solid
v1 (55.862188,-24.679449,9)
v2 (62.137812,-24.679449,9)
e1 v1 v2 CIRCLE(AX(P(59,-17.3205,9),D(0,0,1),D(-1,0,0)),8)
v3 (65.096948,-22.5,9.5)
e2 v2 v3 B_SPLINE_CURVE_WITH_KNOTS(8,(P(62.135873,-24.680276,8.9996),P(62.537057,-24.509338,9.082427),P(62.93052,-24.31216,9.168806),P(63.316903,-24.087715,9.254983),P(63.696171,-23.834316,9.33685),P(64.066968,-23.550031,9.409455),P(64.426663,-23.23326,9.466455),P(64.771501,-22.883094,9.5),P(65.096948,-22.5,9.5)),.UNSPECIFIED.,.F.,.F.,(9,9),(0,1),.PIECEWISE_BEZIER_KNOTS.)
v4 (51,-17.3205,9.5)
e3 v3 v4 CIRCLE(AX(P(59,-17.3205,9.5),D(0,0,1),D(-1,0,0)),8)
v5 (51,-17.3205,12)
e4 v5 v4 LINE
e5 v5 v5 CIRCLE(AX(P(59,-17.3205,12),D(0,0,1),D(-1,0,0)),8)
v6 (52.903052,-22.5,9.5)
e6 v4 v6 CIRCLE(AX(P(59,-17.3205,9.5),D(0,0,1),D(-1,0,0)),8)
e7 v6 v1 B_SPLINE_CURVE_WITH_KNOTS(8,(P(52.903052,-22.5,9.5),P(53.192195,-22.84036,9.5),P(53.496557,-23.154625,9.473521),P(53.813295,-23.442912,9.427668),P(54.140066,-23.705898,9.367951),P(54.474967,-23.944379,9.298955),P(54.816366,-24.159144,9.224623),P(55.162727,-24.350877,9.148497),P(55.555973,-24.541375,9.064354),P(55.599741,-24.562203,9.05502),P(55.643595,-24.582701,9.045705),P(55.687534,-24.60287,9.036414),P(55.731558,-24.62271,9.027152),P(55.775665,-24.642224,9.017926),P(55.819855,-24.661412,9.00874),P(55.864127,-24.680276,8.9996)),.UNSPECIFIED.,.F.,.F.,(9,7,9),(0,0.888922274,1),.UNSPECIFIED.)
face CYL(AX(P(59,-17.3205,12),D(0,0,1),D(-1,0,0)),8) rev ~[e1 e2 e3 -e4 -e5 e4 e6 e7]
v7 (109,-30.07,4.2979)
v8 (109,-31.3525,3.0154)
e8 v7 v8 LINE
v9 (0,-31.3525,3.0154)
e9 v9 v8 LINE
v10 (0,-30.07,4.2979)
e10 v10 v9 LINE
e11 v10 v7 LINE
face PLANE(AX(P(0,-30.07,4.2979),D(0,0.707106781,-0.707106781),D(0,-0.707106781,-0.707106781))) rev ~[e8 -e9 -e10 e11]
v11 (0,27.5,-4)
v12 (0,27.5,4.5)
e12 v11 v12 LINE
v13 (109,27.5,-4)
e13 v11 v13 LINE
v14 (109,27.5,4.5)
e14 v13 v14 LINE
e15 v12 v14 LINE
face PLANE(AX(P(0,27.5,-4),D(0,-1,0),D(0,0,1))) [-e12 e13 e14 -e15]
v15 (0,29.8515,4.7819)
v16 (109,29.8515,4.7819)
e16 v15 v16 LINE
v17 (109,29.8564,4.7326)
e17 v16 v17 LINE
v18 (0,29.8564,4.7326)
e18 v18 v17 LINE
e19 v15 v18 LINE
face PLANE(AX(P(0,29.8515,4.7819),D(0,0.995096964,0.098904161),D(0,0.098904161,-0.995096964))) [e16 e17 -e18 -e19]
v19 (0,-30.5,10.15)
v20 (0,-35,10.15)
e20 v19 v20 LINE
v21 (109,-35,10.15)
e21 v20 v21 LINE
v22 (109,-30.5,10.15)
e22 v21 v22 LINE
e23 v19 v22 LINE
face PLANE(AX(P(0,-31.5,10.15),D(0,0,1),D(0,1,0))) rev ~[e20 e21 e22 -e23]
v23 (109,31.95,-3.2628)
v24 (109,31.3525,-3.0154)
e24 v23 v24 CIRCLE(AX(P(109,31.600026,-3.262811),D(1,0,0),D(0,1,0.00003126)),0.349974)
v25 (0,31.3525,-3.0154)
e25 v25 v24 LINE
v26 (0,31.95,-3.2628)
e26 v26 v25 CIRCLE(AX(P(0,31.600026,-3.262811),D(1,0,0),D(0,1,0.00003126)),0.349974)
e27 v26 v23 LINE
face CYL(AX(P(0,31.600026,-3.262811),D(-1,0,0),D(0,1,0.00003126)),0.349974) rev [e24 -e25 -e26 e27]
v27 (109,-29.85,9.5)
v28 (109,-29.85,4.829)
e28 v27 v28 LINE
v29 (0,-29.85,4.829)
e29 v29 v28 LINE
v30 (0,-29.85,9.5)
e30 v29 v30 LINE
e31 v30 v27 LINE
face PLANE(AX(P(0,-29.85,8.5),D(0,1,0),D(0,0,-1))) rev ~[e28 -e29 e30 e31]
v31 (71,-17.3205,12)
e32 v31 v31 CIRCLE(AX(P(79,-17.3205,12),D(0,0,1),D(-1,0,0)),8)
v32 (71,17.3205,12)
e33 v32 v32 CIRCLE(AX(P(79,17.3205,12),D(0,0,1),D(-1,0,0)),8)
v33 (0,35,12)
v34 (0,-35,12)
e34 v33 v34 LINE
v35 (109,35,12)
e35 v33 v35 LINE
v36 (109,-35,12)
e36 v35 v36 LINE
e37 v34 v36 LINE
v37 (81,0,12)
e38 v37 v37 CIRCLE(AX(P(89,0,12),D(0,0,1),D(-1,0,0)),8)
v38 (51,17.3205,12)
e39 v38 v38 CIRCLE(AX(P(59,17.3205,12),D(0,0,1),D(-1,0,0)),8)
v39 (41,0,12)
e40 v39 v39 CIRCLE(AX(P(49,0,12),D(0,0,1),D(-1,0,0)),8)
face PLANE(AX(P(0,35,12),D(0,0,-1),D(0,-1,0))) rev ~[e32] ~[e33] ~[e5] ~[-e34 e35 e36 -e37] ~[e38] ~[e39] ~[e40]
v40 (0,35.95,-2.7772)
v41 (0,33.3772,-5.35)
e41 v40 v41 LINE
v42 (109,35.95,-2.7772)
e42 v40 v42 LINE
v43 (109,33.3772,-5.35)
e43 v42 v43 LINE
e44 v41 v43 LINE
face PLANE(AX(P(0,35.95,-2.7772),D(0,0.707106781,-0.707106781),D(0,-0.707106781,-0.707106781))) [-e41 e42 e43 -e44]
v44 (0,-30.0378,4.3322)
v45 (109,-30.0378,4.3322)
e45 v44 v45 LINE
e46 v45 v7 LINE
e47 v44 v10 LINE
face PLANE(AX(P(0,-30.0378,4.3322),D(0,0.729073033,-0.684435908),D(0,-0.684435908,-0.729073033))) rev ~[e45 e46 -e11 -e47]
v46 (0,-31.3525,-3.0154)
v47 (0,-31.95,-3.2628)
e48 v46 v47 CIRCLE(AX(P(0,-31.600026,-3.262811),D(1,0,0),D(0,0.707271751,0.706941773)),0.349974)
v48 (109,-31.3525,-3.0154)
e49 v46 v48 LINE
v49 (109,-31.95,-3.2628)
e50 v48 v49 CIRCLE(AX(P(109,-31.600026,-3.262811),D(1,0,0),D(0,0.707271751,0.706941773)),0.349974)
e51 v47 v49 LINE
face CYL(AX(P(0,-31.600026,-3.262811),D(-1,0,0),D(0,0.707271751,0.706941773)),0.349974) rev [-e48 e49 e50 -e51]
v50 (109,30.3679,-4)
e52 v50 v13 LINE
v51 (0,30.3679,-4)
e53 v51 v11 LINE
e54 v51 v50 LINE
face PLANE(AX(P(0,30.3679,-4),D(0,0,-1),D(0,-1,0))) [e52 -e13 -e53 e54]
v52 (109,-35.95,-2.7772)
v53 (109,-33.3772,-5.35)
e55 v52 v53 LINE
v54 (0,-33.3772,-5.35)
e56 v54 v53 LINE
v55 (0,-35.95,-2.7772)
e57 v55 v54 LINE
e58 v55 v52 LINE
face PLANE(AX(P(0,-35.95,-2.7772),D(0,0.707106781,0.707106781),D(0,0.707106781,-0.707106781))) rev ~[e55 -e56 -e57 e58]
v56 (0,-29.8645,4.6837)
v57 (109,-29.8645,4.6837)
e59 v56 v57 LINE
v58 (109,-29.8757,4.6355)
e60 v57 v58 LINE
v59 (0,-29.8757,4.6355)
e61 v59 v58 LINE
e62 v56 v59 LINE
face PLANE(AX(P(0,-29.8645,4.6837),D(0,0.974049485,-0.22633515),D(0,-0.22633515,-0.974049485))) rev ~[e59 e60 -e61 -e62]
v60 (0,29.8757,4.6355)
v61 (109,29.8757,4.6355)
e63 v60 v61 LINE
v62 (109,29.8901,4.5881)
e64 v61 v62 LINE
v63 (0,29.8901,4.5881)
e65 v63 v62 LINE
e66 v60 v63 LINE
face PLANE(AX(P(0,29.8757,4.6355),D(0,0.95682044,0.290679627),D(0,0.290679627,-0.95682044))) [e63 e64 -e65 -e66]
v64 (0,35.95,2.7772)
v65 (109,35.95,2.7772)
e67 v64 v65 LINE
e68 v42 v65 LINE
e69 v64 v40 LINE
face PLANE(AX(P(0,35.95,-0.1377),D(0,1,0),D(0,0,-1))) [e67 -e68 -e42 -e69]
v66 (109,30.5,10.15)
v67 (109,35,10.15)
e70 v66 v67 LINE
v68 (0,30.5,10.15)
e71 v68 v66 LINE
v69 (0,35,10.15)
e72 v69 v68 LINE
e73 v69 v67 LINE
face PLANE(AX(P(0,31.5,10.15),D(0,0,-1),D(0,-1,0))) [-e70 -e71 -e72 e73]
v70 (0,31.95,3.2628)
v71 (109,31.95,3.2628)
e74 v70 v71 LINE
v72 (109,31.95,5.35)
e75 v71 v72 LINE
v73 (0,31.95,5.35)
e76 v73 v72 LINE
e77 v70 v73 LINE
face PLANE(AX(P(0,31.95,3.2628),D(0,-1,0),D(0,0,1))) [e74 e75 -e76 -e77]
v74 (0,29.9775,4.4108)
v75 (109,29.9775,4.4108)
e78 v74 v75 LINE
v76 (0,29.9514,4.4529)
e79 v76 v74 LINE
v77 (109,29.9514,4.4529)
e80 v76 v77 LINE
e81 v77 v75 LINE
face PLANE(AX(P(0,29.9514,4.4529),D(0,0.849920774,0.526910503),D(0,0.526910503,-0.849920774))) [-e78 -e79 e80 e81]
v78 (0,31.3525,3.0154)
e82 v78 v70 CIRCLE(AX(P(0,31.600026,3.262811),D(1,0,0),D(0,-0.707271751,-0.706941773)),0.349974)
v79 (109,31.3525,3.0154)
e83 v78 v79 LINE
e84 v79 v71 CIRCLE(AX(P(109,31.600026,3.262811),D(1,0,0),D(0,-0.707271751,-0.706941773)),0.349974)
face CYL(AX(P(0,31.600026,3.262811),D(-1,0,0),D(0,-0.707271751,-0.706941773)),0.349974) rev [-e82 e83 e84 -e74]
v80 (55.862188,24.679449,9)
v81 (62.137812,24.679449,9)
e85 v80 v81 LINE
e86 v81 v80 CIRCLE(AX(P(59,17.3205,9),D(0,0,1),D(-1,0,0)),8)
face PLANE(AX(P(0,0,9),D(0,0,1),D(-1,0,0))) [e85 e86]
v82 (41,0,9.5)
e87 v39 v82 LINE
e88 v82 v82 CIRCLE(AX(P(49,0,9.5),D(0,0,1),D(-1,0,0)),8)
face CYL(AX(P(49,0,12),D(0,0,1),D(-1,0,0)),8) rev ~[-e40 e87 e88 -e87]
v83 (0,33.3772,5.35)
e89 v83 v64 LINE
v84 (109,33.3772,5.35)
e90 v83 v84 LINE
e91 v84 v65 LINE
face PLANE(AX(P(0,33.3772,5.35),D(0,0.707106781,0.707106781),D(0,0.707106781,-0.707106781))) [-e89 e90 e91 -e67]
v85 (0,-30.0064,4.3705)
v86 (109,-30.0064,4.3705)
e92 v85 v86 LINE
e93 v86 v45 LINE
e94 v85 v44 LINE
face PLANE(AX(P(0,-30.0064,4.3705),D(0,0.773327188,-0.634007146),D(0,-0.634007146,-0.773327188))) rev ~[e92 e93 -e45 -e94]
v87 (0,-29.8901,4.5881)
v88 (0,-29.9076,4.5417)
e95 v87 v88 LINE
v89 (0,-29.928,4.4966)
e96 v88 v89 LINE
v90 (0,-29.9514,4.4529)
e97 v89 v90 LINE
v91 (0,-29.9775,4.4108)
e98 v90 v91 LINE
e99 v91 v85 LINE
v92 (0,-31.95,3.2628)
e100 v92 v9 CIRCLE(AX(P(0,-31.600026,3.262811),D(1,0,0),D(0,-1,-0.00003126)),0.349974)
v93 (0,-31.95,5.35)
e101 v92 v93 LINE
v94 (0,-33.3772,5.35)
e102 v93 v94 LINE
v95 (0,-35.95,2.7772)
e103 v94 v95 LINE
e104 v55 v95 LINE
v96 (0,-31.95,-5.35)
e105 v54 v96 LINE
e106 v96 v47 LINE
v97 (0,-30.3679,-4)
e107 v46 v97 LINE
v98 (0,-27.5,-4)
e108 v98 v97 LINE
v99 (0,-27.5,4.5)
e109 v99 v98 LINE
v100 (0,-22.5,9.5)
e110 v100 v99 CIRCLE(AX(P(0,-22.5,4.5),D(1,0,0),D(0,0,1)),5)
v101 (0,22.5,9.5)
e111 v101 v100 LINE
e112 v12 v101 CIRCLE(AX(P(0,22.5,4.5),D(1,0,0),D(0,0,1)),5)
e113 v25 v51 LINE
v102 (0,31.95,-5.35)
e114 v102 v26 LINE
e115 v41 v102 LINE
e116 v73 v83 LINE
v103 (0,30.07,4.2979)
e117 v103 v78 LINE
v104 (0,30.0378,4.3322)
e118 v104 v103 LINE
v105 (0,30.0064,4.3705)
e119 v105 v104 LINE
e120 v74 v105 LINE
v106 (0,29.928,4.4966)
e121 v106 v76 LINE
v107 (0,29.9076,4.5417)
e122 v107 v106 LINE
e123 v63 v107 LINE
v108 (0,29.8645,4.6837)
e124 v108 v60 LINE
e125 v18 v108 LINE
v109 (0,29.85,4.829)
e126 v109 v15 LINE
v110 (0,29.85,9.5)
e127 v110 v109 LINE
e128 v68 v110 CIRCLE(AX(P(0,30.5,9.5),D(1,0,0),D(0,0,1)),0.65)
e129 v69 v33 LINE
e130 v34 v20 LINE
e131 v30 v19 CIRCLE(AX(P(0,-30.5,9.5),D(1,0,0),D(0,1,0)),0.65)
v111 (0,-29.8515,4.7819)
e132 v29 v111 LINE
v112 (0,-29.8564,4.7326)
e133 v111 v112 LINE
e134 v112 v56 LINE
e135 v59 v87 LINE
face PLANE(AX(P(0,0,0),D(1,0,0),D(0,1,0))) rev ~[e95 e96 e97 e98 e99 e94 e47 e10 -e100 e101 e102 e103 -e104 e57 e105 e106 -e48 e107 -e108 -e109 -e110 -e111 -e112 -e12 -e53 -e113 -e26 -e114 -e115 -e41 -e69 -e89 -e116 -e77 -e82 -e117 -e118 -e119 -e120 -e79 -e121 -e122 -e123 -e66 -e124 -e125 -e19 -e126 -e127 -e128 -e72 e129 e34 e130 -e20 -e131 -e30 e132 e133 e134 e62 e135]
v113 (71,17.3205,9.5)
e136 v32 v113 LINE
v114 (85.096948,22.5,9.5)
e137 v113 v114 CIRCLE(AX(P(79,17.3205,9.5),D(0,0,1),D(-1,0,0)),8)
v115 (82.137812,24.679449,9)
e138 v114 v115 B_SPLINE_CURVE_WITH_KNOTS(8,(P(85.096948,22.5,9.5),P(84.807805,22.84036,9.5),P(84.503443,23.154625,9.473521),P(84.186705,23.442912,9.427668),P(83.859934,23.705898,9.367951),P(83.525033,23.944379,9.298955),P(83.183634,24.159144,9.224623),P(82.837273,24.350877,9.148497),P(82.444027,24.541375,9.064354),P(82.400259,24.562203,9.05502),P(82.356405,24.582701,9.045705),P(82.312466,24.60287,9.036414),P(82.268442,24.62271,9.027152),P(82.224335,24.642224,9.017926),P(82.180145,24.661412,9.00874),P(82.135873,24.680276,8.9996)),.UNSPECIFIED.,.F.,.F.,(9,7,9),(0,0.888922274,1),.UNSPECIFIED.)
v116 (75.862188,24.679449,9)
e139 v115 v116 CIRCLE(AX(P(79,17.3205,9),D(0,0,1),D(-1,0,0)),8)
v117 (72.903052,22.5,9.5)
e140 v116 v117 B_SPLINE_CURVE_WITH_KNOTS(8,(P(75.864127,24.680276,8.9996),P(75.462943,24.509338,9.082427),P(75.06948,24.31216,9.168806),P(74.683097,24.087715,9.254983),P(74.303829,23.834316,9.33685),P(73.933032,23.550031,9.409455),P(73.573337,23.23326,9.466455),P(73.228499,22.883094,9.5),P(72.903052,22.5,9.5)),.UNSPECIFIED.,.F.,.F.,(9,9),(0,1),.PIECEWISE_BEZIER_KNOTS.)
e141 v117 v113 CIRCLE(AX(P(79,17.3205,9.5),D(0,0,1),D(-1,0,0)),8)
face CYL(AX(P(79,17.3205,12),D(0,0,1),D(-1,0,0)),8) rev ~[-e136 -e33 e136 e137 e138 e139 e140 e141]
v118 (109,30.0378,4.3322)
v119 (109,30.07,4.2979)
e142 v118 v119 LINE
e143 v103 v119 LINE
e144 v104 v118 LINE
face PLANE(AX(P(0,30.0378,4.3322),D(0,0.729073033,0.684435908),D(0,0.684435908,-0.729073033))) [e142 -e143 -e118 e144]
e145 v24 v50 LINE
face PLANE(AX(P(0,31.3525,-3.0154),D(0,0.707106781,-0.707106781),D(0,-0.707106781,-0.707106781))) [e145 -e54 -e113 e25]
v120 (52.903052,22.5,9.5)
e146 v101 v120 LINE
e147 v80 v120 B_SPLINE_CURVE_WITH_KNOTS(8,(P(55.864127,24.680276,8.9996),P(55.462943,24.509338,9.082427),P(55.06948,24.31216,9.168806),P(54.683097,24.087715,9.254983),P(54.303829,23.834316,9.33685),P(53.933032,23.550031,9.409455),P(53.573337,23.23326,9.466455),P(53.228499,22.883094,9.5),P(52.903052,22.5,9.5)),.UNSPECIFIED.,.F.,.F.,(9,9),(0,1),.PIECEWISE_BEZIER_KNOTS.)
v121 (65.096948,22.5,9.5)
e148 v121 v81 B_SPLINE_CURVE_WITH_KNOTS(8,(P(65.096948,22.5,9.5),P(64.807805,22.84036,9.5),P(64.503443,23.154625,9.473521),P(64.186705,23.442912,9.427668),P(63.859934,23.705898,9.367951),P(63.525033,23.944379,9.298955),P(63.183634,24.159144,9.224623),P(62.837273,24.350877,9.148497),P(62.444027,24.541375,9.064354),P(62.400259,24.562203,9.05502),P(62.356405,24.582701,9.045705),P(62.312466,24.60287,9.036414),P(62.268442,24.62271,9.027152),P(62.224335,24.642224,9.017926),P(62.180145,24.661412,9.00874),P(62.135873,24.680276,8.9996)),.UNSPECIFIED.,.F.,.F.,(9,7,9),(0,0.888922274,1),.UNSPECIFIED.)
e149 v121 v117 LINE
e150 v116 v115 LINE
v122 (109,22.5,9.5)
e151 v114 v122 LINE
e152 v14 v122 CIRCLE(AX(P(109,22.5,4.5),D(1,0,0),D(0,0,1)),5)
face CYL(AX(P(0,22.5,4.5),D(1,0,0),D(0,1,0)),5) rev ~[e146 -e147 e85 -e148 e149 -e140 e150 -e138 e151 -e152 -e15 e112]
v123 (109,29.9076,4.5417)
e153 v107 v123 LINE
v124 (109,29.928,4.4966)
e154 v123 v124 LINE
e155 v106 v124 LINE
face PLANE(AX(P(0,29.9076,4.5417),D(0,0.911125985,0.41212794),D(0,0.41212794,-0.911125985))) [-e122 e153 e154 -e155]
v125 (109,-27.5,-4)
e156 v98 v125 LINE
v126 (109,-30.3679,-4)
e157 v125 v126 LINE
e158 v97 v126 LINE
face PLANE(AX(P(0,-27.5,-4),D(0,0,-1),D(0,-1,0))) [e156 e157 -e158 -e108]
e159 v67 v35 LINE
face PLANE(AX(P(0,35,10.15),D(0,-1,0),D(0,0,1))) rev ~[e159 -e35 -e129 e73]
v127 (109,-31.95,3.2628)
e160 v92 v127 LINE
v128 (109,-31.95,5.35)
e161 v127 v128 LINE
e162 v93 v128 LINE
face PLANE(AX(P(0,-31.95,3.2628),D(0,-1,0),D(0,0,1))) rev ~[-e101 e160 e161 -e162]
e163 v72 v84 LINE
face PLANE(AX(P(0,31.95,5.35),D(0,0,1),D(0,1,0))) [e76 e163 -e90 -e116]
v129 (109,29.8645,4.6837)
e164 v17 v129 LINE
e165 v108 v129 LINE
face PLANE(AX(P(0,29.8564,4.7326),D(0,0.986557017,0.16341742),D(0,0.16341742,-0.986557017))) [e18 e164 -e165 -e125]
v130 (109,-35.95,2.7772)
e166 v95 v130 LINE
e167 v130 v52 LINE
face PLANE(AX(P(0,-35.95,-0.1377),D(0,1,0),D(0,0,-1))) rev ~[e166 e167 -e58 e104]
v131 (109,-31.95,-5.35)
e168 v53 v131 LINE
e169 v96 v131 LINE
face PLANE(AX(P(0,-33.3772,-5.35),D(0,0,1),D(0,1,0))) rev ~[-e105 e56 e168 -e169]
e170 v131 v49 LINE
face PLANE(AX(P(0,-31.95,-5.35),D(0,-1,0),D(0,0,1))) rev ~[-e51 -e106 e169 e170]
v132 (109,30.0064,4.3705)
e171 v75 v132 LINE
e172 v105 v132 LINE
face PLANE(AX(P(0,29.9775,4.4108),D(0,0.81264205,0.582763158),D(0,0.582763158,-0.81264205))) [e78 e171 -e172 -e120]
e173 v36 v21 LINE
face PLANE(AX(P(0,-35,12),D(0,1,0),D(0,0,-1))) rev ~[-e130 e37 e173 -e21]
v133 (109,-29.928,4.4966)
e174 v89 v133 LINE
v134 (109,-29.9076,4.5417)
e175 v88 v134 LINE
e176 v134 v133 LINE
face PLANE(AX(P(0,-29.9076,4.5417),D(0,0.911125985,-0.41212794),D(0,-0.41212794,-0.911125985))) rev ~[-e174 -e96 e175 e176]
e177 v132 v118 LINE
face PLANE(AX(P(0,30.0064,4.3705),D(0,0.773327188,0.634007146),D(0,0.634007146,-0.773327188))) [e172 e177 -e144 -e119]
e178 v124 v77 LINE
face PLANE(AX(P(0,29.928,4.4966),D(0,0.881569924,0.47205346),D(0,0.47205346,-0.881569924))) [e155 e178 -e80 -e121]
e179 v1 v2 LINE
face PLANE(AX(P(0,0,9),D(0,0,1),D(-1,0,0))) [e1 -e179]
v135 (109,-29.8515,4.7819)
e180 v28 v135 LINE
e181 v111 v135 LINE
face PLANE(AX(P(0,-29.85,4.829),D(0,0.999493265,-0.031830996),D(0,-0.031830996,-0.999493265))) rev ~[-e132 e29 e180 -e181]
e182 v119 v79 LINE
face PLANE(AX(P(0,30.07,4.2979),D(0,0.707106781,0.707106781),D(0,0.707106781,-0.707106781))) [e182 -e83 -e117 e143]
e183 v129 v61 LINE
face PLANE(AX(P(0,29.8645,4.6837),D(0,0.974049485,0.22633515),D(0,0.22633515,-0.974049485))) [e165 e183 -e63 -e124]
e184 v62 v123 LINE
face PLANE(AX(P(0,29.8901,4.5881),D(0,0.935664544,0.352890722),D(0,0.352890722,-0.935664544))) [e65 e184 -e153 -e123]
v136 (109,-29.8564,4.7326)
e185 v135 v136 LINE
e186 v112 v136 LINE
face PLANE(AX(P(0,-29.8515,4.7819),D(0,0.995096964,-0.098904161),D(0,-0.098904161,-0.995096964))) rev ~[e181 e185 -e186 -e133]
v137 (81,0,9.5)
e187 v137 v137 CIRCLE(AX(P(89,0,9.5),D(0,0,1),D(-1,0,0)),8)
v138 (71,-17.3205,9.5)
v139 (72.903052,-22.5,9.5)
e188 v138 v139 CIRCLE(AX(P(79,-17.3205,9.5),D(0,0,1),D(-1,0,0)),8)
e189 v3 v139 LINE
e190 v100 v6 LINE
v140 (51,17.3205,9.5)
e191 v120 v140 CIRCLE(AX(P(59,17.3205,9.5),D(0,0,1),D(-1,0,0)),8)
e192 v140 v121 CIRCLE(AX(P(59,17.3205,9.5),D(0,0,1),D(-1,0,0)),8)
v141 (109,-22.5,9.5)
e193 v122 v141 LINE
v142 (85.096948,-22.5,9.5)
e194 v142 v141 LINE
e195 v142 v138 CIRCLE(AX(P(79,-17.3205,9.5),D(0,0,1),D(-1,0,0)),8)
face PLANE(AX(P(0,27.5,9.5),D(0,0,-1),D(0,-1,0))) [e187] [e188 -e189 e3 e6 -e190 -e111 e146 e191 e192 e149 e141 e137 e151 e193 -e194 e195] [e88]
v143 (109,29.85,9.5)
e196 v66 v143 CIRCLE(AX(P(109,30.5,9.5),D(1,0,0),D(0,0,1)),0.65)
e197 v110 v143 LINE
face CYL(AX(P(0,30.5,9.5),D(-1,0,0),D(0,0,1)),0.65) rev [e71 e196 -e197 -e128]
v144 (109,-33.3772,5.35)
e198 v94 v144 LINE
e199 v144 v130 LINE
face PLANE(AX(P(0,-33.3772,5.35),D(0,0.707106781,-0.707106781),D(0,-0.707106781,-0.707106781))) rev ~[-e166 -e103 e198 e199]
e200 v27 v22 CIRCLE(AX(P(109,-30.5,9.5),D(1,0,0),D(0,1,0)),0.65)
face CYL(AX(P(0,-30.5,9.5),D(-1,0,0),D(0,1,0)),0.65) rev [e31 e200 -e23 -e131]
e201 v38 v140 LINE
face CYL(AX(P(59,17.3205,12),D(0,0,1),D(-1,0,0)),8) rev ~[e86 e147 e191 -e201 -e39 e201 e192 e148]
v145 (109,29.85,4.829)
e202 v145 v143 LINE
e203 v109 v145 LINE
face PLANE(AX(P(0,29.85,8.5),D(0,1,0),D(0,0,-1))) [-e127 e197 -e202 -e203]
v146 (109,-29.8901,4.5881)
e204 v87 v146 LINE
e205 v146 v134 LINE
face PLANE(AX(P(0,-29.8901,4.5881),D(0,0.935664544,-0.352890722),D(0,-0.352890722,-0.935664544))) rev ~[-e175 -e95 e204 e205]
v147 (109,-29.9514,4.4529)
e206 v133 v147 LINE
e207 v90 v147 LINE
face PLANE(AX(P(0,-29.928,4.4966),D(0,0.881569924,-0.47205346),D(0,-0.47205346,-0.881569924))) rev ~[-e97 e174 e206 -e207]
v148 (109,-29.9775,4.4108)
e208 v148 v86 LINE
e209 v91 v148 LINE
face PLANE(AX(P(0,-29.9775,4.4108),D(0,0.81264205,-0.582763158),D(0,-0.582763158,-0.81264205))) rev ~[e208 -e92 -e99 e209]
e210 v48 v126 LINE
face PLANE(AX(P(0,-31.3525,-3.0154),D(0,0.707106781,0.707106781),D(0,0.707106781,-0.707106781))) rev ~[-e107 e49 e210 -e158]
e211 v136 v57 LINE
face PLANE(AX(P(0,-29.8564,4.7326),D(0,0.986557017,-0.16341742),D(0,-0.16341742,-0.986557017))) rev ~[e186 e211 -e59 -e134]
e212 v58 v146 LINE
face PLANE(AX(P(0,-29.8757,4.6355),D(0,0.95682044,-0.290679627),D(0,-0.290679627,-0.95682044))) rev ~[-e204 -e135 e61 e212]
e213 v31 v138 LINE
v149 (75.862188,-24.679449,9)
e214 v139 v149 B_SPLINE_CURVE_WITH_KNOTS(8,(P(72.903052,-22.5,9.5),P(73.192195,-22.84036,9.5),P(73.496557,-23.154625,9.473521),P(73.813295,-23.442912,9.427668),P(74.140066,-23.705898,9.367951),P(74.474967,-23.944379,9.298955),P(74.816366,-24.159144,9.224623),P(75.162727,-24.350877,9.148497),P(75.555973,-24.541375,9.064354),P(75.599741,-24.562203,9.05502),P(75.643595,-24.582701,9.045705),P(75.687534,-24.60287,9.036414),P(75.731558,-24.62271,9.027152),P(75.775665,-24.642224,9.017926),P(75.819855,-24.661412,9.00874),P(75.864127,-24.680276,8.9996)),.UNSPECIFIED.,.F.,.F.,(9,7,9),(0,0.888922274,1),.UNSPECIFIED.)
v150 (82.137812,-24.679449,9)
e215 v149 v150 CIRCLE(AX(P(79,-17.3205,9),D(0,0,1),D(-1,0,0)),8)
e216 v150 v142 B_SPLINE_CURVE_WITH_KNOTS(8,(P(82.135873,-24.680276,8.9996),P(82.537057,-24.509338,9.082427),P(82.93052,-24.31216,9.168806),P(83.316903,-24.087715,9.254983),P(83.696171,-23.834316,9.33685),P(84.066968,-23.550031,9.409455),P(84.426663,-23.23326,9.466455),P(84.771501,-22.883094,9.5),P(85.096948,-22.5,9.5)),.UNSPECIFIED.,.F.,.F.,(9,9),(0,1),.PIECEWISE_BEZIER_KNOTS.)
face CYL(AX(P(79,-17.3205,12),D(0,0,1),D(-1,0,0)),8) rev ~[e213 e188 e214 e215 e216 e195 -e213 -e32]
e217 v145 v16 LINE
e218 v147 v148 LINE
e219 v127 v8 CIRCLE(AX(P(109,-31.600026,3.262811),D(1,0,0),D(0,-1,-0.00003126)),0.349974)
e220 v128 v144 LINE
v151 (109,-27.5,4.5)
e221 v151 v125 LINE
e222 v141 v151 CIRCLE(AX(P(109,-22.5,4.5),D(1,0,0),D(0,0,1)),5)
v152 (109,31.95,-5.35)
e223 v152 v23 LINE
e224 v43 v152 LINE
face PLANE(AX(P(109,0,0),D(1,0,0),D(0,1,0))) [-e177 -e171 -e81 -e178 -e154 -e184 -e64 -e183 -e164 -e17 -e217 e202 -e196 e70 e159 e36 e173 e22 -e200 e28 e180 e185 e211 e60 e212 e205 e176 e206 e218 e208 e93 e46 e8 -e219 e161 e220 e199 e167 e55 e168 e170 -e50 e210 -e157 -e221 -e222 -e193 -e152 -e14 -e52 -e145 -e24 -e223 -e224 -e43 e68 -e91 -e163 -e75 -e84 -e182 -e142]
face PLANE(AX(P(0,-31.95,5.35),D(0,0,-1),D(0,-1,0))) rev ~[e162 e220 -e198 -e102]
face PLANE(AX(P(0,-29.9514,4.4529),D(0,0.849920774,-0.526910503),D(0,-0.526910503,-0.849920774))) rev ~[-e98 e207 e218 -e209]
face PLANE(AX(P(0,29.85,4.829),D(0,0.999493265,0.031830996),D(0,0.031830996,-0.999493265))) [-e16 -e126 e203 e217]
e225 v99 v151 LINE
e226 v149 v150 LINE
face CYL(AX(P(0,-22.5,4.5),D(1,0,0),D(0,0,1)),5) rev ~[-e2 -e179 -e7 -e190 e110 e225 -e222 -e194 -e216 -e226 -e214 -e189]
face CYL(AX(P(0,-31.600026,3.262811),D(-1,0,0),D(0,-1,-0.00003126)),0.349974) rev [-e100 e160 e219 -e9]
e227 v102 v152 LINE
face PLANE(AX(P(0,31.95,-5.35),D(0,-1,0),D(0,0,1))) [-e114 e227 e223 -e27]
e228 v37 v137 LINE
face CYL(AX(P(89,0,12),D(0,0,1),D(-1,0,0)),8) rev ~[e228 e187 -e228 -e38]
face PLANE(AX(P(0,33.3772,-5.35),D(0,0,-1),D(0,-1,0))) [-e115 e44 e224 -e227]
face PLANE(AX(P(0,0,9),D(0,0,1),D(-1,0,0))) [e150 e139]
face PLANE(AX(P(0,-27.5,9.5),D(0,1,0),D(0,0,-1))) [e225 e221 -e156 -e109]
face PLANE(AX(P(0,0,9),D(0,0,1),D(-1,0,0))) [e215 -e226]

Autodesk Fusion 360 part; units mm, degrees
sketch "Sketch1" plane through (0, 0, 0) normal (1, 0, 0) x (0, 1, 0)
  line L0 (36.1, 2.8393) -> (36.1, 0.1999) construction
  line L1 (29.9076, 4.5417) -> (29.928, 4.4966)
  line L2 (-31.8, -5.5) -> (-31.8, -3.2628) construction
  line L3 (-36.1, 2.8393) -> (-36.1, 0.1999) construction
  line L4 (30.0626, 4.563) -> (30.0813, 4.5279) construction
  line L5 (31.4586, -3.1214) -> (30.1778, -4.4022) construction
  arc A0 (-31.3525, -3.0154) -> (-31.95, -3.2628) centre (-31.6, -3.2628) ccw
  line L6 (30.0462, 4.5991) -> (30.0626, 4.563) construction
  line L7 (30.1023, 4.4942) -> (30.1254, 4.4619) construction
  arc A1 (31.8, -3.2628) -> (31.4586, -3.1214) centre (31.6, -3.2628) ccw construction
  line L8 (30.0322, 4.6363) -> (30.0462, 4.5991) construction
  line L9 (31.8, -5.5) -> (31.8, -3.2628) construction
  line L10 (-31.95, -5.35) -> (-31.95, -3.2628)
  line L11 (-31.8, -5.5) -> (-31.8, -3.2628) construction
  line L12 (35.15, 10) -> (31.5, 10) construction
  line L13 (29.9514, 4.4529) -> (29.9775, 4.4108)
  arc A2 (-31.4586, -3.1214) -> (-31.8, -3.2628) centre (-31.6, -3.2628) ccw construction
  line L14 (31.95, -5.35) -> (31.95, -3.2628)
  line L15 (-33.4393, -5.5) -> (-31.8, -5.5) construction
  line L16 (33.4393, -5.5) -> (31.8, -5.5) construction
  line L17 (31.3525, -3.0154) -> (30.3679, -4)
  line L18 (29.8757, 4.6355) -> (29.8901, 4.5881)
  line L19 (29.8901, 4.5881) -> (29.9076, 4.5417)
  line L20 (-33.4393, -5.5) -> (-31.8, -5.5) construction
  arc A3 (-31.4586, -3.1214) -> (-31.8, -3.2628) centre (-31.6, -3.2628) ccw construction
  line L21 (35.15, 10) -> (31.5, 10) construction
  line L22 (-33.3772, -5.35) -> (-31.95, -5.35)
  line L23 (33.3772, 5.35) -> (35.95, 2.7772)
  line L24 (36.1, 2.8393) -> (36.1, 0.1999) construction
  line L25 (-31.3525, -3.0154) -> (-30.3679, -4)
  arc A4 (31.95, -3.2628) -> (31.3525, -3.0154) centre (31.6, -3.2628) ccw
  line L26 (33.4393, -5.5) -> (31.8, -5.5) construction
  line L27 (35.95, 2.7772) -> (35.95, 0.1377)
  arc A5 (31.8, -3.2628) -> (31.4586, -3.1214) centre (31.6, -3.2628) ccw construction
  line L28 (31.4586, -3.1214) -> (30.1778, -4.4022) construction
  line L29 (33.3772, -5.35) -> (31.95, -5.35)
  line L30 (31.8, -5.5) -> (31.8, -3.2628) construction
  line L31 (-29.9076, 4.5417) -> (-29.928, 4.4966)
  line L32 (-30.0626, 4.563) -> (-30.0813, 4.5279) construction
  line L33 (-36.1, 0.1999) -> (-36.2999, 0) construction
  line L34 (-30.0064, 4.3705) -> (-30.0378, 4.3322)
  line L35 (36.1, -0.1999) -> (36.1, -2.8393) construction
  line L36 (-30.1023, 4.4942) -> (-30.1254, 4.4619) construction
  line L37 (-30.0813, 4.5279) -> (-30.1023, 4.4942) construction
  line L38 (35.95, -0.1377) -> (35.95, -2.7772)
  line L39 (-29.8901, 4.5881) -> (-29.9076, 4.5417)
  line L40 (30.0117, 4.713) -> (30.0207, 4.6743) construction
  line L41 (-36.1, -0.1999) -> (-36.1, -2.8393) construction
  circle A6 centre (-40, 0) radius 2.1 construction
  line L42 (-30.0462, 4.5991) -> (-30.0626, 4.563) construction
  line L43 (30.0052, 4.7522) -> (30.0117, 4.713) construction
  line L44 (30.1023, 4.4942) -> (30.1254, 4.4619) construction
  line L45 (-30.0462, 4.5991) -> (-30.0626, 4.563) construction
  line L46 (30.0462, 4.5991) -> (30.0626, 4.563) construction
  line L47 (30.1254, 4.4619) -> (30.1506, 4.4312) construction
  line L48 (-36.1, 0.1999) -> (-36.2999, 0) construction
  line L49 (30.0813, 4.5279) -> (30.1023, 4.4942) construction
  line L50 (30.0626, 4.563) -> (30.0813, 4.5279) construction
  line L51 (-30.0813, 4.5279) -> (-30.1023, 4.4942) construction
  line L52 (29.9775, 4.4108) -> (30.0064, 4.3705)
  line L53 (-30.0626, 4.563) -> (-30.0813, 4.5279) construction
  line L54 (-36.2999, 0) -> (-36.1, -0.1999) construction
  line L55 (30.0378, 4.3322) -> (30.07, 4.2979)
  line L56 (30.0322, 4.6363) -> (30.0462, 4.5991) construction
  line L57 (30.0064, 4.3705) -> (30.0378, 4.3322)
  line L58 (-29.9775, 4.4108) -> (-30.0064, 4.3705)
  line L59 (-36.1, -0.1999) -> (-36.1, -2.8393) construction
  line L60 (-35.95, -0.1377) -> (-35.95, -2.7772)
  line L61 (-30.0378, 4.3322) -> (-30.07, 4.2979)
  line L62 (-36.2999, 0) -> (-36.1, -0.1999) construction
  line L63 (30.0813, 4.5279) -> (30.1023, 4.4942) construction
  line L64 (29.928, 4.4966) -> (29.9514, 4.4529)
  line L65 (-30.1254, 4.4619) -> (-30.1506, 4.4312) construction
  line L66 (-30.1254, 4.4619) -> (-30.1506, 4.4312) construction
  line L67 (30.1254, 4.4619) -> (30.1506, 4.4312) construction
  line L68 (-30.1023, 4.4942) -> (-30.1254, 4.4619) construction
  line L69 (36.1, 0.1999) -> (36.2999, 0) construction
  line L70 (-29.9514, 4.4529) -> (-29.9775, 4.4108)
  line L71 (30.0117, 4.713) -> (30.0207, 4.6743) construction
  line L72 (-29.928, 4.4966) -> (-29.9514, 4.4529)
  line L73 (29.8564, 4.7326) -> (29.8645, 4.6837)
  line L74 (30.0013, 4.7917) -> (30.0052, 4.7522) construction
  line L75 (-30.0322, 4.6363) -> (-30.0462, 4.5991) construction
  line L76 (-29.8757, 4.6355) -> (-29.8901, 4.5881)
  line L77 (30.07, 4.2979) -> (31.3525, 3.0154)
  line L78 (36.1, -0.1999) -> (36.1, -2.8393) construction
  circle A7 centre (40, 0) radius 2.1 construction
  line L79 (30.1506, 4.4312) -> (30.1778, 4.4022) construction
  circle A8 centre (40, 0) radius 2.1 construction
  line L80 (-35.15, 10) -> (-31.5, 10) construction
  line L81 (-30.0207, 4.6743) -> (-30.0322, 4.6363) construction
  line L82 (30.1506, 4.4312) -> (30.1778, 4.4022) construction
  line L83 (-29.8515, 4.7819) -> (-29.8564, 4.7326)
  line L84 (-30.0052, 4.7522) -> (-30.0117, 4.713) construction
  line L85 (-29.8645, 4.6837) -> (-29.8757, 4.6355)
  line L86 (36.1, 0.1999) -> (36.2999, 0) construction
  line L87 (-35, 10.15) -> (-31.5, 10.15)
  line L88 (36.2999, 0) -> (36.1, -0.1999) construction
  line L89 (30.0207, 4.6743) -> (30.0322, 4.6363) construction
  line L90 (-30.0052, 4.7522) -> (-30.0117, 4.713) construction
  line L91 (30.0207, 4.6743) -> (30.0322, 4.6363) construction
  line L92 (29.8645, 4.6837) -> (29.8757, 4.6355)
  line L93 (-35.95, -2.7772) -> (-33.3772, -5.35)
  line L94 (-36.1, -2.8393) -> (-33.4393, -5.5) construction
  line L95 (30.0013, 4.7917) -> (30.0052, 4.7522) construction
  line L96 (33.4393, 5.5) -> (36.1, 2.8393) construction
  line L97 (-30.0013, 4.7917) -> (-30.0052, 4.7522) construction
  line L98 (-30.0013, 4.7917) -> (-30.0052, 4.7522) construction
  line L99 (-30.0117, 4.713) -> (-30.0207, 4.6743) construction
  line L100 (30.1778, 4.4022) -> (31.4586, 3.1214) construction
  line L101 (30.0052, 4.7522) -> (30.0117, 4.713) construction
  line L102 (36.1, -2.8393) -> (33.4393, -5.5) construction
  line L103 (30.1778, 4.4022) -> (31.4586, 3.1214) construction
  line L104 (-30.0117, 4.713) -> (-30.0207, 4.6743) construction
  line L105 (-33.4393, 5.5) -> (-36.1, 2.8393) construction
  line L106 (-29.8564, 4.7326) -> (-29.8645, 4.6837)
  line L107 (36.1, -2.8393) -> (33.4393, -5.5) construction
  line L108 (-33.3772, 5.35) -> (-35.95, 2.7772)
  arc A9 (31.4586, 3.1214) -> (31.8, 3.2628) centre (31.6, 3.2628) ccw construction
  line L109 (29.8515, 4.7819) -> (29.8564, 4.7326)
  line L110 (36.2999, 0) -> (36.1, -0.1999) construction
  line L111 (-36.1, -2.8393) -> (-33.4393, -5.5) construction
  line L112 (-30.0207, 4.6743) -> (-30.0322, 4.6363) construction
  arc A10 (31.4586, 3.1214) -> (31.8, 3.2628) centre (31.6, 3.2628) ccw construction
  arc A11 (31.3525, 3.0154) -> (31.95, 3.2628) centre (31.6, 3.2628) ccw
  line L113 (35.95, -2.7772) -> (33.3772, -5.35)
  line L114 (33.4393, 5.5) -> (36.1, 2.8393) construction
  line L115 (35, 10.15) -> (31.5, 10.15)
  circle A12 centre (-40, 0) radius 2.1 construction
  line L116 (-30.0322, 4.6363) -> (-30.0462, 4.5991) construction
  line L117 (-31.95, 5.35) -> (-33.3772, 5.35)
  line L118 (30, 4.8314) -> (30.0013, 4.7917) construction
  line L119 (29.85, 4.829) -> (29.8515, 4.7819)
  line L120 (-30.1778, 4.4022) -> (-31.4586, 3.1214) construction
  line L121 (31.8, 5.5) -> (33.4393, 5.5) construction
  line L122 (-35.2083, 9.9987) -> (-35.15, 10) construction
  line L123 (-30, 4.8314) -> (-30.0013, 4.7917) construction
  line L124 (-35.2083, 9.9987) -> (-35.15, 10) construction
  arc A13 (30.5, 10) -> (30, 9.5) centre (30.5, 9.5) ccw construction
  line L125 (-31.95, 3.2628) -> (-31.95, 5.35)
  line L126 (-29.85, 4.829) -> (-29.8515, 4.7819)
  line L127 (30, 9.5) -> (30, 8.5) construction
  arc A14 (30.5, 10.15) -> (29.85, 9.5) centre (30.5, 9.5) ccw
  line L128 (30, 9.5) -> (30, 8.5) construction
  line L129 (31.95, 3.2628) -> (31.95, 5.35)
  arc A15 (-31.8, 3.2628) -> (-31.4586, 3.1214) centre (-31.6, 3.2628) ccw construction
  arc A16 (-31.8, 3.2628) -> (-31.4586, 3.1214) centre (-31.6, 3.2628) ccw construction
  line L130 (31.95, 5.35) -> (33.3772, 5.35)
  line L131 (-30.07, 4.2979) -> (-31.3525, 3.0154)
  arc A17 (-31.95, 3.2628) -> (-31.3525, 3.0154) centre (-31.6, 3.2628) ccw
  line L132 (-33.4393, 5.5) -> (-36.1, 2.8393) construction
  line L133 (-30.1506, 4.4312) -> (-30.1778, 4.4022) construction
  line L134 (29.85, 9.5) -> (29.85, 8.5)
  line L135 (-30.1778, 4.4022) -> (-31.4586, 3.1214) construction
  line L136 (31.5, 10) -> (30.5, 10) construction
  line L137 (30, 8.5) -> (30, 4.8314) construction
  line L138 (-31.5, 10) -> (-30.5, 10) construction
  line L139 (31.8, 3.2628) -> (31.8, 5.5) construction
  line L140 (30, 4.8314) -> (30.0013, 4.7917) construction
  line L141 (-31.5, 10.15) -> (-30.5, 10.15)
  arc A18 (30.5, 10) -> (30, 9.5) centre (30.5, 9.5) ccw construction
  arc A19 (-30, 9.5) -> (-30.5, 10) centre (-30.5, 9.5) ccw construction
  line L142 (-30.1506, 4.4312) -> (-30.1778, 4.4022) construction
  line L143 (31.8, 5.5) -> (33.4393, 5.5) construction
  line L144 (-35.15, 10) -> (-31.5, 10) construction
  line L145 (31.8, 3.2628) -> (31.8, 5.5) construction
  line L146 (30, 8.5) -> (30, 4.8314) construction
  line L147 (-30, 4.8314) -> (-30.0013, 4.7917) construction
  line L148 (29.85, 8.5) -> (29.85, 4.829)
  line L149 (-30, 9.5) -> (-30, 8.5) construction
  line L150 (-29.85, 9.5) -> (-29.85, 8.5)
  arc A20 (-29.85, 9.5) -> (-30.5, 10.15) centre (-30.5, 9.5) ccw
  line L151 (31.5, 10) -> (30.5, 10) construction
  line L152 (-29.85, 8.5) -> (-29.85, 4.829)
  line L153 (-31.8, 5.5) -> (-33.4393, 5.5) construction
  line L154 (-31.8, 3.2628) -> (-31.8, 5.5) construction
  arc A21 (-30, 9.5) -> (-30.5, 10) centre (-30.5, 9.5) ccw construction
  line L155 (-31.8, 5.5) -> (-33.4393, 5.5) construction
  line L156 (-31.5, 10) -> (-30.5, 10) construction
  line L157 (-31.8, 3.2628) -> (-31.8, 5.5) construction
  line L158 (-30, 9.5) -> (-30, 8.5) construction
  line L159 (-30, 8.5) -> (-30, 4.8314) construction
  line L160 (31.5, 10.15) -> (30.5, 10.15)
  line L161 (-30, 8.5) -> (-30, 4.8314) construction
  line L162 (0, 15) -> (0, -15) construction
  line L163 (-35.95, 2.7772) -> (-35.95, 0.1377)
  line L164 (-36.1, 2.8393) -> (-36.1, 0.1999) construction
  line L165 (35, 10.15) -> (35, 12)
  line L166 (35, 12) -> (-35, 12)
  line L167 (-35, 12) -> (-35, 10.15)
  line L168 (30.3679, -4) -> (27.5, -4)
  line L169 (27.5, -4) -> (27.5, 9.5)
  line L170 (27.5, 9.5) -> (-27.5, 9.5)
  line L171 (-27.5, 9.5) -> (-27.5, -4)
  line L172 (-27.5, -4) -> (-30.3679, -4)
  line L173 (35.95, 0.1377) -> (35.95, -0.1377)
  line L174 (-35.95, 0.1377) -> (-35.95, -0.1377)
  dimension "d1" = 16
extrude "Extrude1" add sketch "Sketch1" along normal blind 109
fillet "Fillet1" radius 5 2 edges at (54.5, -27.5, 9.5) (54.5, 27.5, 9.5)
sketch "Sketch2" plane through (0, 0, 12) normal (0, 0, 1) x (-1, 0, 0)
  line L0 (0, -35) -> (0, 35)
  line L1 (0, 35) -> (-109, 35)
  line L2 (-109, 35) -> (-109, -35)
  line L3 (-109, -35) -> (0, -35)
  line L4 (-109, 0) -> (0, 0) construction
  line L5 (-69, 0) -> (-89, 0) construction
  circle A0 centre (-89, 0) radius 8
  circle A1 centre (-79, -17.3205) radius 8
  circle A2 centre (-59, -17.3205) radius 8
  circle A3 centre (-49, 0) radius 8
  circle A4 centre (-59, 17.3205) radius 8
  circle A5 centre (-79, 17.3205) radius 8
  dimension "d11" = 20
  dimension "d12" = 16
  dimension "d14" = 360
extrude "Extrude2" cut sketch "Sketch2" against normal blind 3 contours A0 | A1 | A2 | A3 | A4 | A5
